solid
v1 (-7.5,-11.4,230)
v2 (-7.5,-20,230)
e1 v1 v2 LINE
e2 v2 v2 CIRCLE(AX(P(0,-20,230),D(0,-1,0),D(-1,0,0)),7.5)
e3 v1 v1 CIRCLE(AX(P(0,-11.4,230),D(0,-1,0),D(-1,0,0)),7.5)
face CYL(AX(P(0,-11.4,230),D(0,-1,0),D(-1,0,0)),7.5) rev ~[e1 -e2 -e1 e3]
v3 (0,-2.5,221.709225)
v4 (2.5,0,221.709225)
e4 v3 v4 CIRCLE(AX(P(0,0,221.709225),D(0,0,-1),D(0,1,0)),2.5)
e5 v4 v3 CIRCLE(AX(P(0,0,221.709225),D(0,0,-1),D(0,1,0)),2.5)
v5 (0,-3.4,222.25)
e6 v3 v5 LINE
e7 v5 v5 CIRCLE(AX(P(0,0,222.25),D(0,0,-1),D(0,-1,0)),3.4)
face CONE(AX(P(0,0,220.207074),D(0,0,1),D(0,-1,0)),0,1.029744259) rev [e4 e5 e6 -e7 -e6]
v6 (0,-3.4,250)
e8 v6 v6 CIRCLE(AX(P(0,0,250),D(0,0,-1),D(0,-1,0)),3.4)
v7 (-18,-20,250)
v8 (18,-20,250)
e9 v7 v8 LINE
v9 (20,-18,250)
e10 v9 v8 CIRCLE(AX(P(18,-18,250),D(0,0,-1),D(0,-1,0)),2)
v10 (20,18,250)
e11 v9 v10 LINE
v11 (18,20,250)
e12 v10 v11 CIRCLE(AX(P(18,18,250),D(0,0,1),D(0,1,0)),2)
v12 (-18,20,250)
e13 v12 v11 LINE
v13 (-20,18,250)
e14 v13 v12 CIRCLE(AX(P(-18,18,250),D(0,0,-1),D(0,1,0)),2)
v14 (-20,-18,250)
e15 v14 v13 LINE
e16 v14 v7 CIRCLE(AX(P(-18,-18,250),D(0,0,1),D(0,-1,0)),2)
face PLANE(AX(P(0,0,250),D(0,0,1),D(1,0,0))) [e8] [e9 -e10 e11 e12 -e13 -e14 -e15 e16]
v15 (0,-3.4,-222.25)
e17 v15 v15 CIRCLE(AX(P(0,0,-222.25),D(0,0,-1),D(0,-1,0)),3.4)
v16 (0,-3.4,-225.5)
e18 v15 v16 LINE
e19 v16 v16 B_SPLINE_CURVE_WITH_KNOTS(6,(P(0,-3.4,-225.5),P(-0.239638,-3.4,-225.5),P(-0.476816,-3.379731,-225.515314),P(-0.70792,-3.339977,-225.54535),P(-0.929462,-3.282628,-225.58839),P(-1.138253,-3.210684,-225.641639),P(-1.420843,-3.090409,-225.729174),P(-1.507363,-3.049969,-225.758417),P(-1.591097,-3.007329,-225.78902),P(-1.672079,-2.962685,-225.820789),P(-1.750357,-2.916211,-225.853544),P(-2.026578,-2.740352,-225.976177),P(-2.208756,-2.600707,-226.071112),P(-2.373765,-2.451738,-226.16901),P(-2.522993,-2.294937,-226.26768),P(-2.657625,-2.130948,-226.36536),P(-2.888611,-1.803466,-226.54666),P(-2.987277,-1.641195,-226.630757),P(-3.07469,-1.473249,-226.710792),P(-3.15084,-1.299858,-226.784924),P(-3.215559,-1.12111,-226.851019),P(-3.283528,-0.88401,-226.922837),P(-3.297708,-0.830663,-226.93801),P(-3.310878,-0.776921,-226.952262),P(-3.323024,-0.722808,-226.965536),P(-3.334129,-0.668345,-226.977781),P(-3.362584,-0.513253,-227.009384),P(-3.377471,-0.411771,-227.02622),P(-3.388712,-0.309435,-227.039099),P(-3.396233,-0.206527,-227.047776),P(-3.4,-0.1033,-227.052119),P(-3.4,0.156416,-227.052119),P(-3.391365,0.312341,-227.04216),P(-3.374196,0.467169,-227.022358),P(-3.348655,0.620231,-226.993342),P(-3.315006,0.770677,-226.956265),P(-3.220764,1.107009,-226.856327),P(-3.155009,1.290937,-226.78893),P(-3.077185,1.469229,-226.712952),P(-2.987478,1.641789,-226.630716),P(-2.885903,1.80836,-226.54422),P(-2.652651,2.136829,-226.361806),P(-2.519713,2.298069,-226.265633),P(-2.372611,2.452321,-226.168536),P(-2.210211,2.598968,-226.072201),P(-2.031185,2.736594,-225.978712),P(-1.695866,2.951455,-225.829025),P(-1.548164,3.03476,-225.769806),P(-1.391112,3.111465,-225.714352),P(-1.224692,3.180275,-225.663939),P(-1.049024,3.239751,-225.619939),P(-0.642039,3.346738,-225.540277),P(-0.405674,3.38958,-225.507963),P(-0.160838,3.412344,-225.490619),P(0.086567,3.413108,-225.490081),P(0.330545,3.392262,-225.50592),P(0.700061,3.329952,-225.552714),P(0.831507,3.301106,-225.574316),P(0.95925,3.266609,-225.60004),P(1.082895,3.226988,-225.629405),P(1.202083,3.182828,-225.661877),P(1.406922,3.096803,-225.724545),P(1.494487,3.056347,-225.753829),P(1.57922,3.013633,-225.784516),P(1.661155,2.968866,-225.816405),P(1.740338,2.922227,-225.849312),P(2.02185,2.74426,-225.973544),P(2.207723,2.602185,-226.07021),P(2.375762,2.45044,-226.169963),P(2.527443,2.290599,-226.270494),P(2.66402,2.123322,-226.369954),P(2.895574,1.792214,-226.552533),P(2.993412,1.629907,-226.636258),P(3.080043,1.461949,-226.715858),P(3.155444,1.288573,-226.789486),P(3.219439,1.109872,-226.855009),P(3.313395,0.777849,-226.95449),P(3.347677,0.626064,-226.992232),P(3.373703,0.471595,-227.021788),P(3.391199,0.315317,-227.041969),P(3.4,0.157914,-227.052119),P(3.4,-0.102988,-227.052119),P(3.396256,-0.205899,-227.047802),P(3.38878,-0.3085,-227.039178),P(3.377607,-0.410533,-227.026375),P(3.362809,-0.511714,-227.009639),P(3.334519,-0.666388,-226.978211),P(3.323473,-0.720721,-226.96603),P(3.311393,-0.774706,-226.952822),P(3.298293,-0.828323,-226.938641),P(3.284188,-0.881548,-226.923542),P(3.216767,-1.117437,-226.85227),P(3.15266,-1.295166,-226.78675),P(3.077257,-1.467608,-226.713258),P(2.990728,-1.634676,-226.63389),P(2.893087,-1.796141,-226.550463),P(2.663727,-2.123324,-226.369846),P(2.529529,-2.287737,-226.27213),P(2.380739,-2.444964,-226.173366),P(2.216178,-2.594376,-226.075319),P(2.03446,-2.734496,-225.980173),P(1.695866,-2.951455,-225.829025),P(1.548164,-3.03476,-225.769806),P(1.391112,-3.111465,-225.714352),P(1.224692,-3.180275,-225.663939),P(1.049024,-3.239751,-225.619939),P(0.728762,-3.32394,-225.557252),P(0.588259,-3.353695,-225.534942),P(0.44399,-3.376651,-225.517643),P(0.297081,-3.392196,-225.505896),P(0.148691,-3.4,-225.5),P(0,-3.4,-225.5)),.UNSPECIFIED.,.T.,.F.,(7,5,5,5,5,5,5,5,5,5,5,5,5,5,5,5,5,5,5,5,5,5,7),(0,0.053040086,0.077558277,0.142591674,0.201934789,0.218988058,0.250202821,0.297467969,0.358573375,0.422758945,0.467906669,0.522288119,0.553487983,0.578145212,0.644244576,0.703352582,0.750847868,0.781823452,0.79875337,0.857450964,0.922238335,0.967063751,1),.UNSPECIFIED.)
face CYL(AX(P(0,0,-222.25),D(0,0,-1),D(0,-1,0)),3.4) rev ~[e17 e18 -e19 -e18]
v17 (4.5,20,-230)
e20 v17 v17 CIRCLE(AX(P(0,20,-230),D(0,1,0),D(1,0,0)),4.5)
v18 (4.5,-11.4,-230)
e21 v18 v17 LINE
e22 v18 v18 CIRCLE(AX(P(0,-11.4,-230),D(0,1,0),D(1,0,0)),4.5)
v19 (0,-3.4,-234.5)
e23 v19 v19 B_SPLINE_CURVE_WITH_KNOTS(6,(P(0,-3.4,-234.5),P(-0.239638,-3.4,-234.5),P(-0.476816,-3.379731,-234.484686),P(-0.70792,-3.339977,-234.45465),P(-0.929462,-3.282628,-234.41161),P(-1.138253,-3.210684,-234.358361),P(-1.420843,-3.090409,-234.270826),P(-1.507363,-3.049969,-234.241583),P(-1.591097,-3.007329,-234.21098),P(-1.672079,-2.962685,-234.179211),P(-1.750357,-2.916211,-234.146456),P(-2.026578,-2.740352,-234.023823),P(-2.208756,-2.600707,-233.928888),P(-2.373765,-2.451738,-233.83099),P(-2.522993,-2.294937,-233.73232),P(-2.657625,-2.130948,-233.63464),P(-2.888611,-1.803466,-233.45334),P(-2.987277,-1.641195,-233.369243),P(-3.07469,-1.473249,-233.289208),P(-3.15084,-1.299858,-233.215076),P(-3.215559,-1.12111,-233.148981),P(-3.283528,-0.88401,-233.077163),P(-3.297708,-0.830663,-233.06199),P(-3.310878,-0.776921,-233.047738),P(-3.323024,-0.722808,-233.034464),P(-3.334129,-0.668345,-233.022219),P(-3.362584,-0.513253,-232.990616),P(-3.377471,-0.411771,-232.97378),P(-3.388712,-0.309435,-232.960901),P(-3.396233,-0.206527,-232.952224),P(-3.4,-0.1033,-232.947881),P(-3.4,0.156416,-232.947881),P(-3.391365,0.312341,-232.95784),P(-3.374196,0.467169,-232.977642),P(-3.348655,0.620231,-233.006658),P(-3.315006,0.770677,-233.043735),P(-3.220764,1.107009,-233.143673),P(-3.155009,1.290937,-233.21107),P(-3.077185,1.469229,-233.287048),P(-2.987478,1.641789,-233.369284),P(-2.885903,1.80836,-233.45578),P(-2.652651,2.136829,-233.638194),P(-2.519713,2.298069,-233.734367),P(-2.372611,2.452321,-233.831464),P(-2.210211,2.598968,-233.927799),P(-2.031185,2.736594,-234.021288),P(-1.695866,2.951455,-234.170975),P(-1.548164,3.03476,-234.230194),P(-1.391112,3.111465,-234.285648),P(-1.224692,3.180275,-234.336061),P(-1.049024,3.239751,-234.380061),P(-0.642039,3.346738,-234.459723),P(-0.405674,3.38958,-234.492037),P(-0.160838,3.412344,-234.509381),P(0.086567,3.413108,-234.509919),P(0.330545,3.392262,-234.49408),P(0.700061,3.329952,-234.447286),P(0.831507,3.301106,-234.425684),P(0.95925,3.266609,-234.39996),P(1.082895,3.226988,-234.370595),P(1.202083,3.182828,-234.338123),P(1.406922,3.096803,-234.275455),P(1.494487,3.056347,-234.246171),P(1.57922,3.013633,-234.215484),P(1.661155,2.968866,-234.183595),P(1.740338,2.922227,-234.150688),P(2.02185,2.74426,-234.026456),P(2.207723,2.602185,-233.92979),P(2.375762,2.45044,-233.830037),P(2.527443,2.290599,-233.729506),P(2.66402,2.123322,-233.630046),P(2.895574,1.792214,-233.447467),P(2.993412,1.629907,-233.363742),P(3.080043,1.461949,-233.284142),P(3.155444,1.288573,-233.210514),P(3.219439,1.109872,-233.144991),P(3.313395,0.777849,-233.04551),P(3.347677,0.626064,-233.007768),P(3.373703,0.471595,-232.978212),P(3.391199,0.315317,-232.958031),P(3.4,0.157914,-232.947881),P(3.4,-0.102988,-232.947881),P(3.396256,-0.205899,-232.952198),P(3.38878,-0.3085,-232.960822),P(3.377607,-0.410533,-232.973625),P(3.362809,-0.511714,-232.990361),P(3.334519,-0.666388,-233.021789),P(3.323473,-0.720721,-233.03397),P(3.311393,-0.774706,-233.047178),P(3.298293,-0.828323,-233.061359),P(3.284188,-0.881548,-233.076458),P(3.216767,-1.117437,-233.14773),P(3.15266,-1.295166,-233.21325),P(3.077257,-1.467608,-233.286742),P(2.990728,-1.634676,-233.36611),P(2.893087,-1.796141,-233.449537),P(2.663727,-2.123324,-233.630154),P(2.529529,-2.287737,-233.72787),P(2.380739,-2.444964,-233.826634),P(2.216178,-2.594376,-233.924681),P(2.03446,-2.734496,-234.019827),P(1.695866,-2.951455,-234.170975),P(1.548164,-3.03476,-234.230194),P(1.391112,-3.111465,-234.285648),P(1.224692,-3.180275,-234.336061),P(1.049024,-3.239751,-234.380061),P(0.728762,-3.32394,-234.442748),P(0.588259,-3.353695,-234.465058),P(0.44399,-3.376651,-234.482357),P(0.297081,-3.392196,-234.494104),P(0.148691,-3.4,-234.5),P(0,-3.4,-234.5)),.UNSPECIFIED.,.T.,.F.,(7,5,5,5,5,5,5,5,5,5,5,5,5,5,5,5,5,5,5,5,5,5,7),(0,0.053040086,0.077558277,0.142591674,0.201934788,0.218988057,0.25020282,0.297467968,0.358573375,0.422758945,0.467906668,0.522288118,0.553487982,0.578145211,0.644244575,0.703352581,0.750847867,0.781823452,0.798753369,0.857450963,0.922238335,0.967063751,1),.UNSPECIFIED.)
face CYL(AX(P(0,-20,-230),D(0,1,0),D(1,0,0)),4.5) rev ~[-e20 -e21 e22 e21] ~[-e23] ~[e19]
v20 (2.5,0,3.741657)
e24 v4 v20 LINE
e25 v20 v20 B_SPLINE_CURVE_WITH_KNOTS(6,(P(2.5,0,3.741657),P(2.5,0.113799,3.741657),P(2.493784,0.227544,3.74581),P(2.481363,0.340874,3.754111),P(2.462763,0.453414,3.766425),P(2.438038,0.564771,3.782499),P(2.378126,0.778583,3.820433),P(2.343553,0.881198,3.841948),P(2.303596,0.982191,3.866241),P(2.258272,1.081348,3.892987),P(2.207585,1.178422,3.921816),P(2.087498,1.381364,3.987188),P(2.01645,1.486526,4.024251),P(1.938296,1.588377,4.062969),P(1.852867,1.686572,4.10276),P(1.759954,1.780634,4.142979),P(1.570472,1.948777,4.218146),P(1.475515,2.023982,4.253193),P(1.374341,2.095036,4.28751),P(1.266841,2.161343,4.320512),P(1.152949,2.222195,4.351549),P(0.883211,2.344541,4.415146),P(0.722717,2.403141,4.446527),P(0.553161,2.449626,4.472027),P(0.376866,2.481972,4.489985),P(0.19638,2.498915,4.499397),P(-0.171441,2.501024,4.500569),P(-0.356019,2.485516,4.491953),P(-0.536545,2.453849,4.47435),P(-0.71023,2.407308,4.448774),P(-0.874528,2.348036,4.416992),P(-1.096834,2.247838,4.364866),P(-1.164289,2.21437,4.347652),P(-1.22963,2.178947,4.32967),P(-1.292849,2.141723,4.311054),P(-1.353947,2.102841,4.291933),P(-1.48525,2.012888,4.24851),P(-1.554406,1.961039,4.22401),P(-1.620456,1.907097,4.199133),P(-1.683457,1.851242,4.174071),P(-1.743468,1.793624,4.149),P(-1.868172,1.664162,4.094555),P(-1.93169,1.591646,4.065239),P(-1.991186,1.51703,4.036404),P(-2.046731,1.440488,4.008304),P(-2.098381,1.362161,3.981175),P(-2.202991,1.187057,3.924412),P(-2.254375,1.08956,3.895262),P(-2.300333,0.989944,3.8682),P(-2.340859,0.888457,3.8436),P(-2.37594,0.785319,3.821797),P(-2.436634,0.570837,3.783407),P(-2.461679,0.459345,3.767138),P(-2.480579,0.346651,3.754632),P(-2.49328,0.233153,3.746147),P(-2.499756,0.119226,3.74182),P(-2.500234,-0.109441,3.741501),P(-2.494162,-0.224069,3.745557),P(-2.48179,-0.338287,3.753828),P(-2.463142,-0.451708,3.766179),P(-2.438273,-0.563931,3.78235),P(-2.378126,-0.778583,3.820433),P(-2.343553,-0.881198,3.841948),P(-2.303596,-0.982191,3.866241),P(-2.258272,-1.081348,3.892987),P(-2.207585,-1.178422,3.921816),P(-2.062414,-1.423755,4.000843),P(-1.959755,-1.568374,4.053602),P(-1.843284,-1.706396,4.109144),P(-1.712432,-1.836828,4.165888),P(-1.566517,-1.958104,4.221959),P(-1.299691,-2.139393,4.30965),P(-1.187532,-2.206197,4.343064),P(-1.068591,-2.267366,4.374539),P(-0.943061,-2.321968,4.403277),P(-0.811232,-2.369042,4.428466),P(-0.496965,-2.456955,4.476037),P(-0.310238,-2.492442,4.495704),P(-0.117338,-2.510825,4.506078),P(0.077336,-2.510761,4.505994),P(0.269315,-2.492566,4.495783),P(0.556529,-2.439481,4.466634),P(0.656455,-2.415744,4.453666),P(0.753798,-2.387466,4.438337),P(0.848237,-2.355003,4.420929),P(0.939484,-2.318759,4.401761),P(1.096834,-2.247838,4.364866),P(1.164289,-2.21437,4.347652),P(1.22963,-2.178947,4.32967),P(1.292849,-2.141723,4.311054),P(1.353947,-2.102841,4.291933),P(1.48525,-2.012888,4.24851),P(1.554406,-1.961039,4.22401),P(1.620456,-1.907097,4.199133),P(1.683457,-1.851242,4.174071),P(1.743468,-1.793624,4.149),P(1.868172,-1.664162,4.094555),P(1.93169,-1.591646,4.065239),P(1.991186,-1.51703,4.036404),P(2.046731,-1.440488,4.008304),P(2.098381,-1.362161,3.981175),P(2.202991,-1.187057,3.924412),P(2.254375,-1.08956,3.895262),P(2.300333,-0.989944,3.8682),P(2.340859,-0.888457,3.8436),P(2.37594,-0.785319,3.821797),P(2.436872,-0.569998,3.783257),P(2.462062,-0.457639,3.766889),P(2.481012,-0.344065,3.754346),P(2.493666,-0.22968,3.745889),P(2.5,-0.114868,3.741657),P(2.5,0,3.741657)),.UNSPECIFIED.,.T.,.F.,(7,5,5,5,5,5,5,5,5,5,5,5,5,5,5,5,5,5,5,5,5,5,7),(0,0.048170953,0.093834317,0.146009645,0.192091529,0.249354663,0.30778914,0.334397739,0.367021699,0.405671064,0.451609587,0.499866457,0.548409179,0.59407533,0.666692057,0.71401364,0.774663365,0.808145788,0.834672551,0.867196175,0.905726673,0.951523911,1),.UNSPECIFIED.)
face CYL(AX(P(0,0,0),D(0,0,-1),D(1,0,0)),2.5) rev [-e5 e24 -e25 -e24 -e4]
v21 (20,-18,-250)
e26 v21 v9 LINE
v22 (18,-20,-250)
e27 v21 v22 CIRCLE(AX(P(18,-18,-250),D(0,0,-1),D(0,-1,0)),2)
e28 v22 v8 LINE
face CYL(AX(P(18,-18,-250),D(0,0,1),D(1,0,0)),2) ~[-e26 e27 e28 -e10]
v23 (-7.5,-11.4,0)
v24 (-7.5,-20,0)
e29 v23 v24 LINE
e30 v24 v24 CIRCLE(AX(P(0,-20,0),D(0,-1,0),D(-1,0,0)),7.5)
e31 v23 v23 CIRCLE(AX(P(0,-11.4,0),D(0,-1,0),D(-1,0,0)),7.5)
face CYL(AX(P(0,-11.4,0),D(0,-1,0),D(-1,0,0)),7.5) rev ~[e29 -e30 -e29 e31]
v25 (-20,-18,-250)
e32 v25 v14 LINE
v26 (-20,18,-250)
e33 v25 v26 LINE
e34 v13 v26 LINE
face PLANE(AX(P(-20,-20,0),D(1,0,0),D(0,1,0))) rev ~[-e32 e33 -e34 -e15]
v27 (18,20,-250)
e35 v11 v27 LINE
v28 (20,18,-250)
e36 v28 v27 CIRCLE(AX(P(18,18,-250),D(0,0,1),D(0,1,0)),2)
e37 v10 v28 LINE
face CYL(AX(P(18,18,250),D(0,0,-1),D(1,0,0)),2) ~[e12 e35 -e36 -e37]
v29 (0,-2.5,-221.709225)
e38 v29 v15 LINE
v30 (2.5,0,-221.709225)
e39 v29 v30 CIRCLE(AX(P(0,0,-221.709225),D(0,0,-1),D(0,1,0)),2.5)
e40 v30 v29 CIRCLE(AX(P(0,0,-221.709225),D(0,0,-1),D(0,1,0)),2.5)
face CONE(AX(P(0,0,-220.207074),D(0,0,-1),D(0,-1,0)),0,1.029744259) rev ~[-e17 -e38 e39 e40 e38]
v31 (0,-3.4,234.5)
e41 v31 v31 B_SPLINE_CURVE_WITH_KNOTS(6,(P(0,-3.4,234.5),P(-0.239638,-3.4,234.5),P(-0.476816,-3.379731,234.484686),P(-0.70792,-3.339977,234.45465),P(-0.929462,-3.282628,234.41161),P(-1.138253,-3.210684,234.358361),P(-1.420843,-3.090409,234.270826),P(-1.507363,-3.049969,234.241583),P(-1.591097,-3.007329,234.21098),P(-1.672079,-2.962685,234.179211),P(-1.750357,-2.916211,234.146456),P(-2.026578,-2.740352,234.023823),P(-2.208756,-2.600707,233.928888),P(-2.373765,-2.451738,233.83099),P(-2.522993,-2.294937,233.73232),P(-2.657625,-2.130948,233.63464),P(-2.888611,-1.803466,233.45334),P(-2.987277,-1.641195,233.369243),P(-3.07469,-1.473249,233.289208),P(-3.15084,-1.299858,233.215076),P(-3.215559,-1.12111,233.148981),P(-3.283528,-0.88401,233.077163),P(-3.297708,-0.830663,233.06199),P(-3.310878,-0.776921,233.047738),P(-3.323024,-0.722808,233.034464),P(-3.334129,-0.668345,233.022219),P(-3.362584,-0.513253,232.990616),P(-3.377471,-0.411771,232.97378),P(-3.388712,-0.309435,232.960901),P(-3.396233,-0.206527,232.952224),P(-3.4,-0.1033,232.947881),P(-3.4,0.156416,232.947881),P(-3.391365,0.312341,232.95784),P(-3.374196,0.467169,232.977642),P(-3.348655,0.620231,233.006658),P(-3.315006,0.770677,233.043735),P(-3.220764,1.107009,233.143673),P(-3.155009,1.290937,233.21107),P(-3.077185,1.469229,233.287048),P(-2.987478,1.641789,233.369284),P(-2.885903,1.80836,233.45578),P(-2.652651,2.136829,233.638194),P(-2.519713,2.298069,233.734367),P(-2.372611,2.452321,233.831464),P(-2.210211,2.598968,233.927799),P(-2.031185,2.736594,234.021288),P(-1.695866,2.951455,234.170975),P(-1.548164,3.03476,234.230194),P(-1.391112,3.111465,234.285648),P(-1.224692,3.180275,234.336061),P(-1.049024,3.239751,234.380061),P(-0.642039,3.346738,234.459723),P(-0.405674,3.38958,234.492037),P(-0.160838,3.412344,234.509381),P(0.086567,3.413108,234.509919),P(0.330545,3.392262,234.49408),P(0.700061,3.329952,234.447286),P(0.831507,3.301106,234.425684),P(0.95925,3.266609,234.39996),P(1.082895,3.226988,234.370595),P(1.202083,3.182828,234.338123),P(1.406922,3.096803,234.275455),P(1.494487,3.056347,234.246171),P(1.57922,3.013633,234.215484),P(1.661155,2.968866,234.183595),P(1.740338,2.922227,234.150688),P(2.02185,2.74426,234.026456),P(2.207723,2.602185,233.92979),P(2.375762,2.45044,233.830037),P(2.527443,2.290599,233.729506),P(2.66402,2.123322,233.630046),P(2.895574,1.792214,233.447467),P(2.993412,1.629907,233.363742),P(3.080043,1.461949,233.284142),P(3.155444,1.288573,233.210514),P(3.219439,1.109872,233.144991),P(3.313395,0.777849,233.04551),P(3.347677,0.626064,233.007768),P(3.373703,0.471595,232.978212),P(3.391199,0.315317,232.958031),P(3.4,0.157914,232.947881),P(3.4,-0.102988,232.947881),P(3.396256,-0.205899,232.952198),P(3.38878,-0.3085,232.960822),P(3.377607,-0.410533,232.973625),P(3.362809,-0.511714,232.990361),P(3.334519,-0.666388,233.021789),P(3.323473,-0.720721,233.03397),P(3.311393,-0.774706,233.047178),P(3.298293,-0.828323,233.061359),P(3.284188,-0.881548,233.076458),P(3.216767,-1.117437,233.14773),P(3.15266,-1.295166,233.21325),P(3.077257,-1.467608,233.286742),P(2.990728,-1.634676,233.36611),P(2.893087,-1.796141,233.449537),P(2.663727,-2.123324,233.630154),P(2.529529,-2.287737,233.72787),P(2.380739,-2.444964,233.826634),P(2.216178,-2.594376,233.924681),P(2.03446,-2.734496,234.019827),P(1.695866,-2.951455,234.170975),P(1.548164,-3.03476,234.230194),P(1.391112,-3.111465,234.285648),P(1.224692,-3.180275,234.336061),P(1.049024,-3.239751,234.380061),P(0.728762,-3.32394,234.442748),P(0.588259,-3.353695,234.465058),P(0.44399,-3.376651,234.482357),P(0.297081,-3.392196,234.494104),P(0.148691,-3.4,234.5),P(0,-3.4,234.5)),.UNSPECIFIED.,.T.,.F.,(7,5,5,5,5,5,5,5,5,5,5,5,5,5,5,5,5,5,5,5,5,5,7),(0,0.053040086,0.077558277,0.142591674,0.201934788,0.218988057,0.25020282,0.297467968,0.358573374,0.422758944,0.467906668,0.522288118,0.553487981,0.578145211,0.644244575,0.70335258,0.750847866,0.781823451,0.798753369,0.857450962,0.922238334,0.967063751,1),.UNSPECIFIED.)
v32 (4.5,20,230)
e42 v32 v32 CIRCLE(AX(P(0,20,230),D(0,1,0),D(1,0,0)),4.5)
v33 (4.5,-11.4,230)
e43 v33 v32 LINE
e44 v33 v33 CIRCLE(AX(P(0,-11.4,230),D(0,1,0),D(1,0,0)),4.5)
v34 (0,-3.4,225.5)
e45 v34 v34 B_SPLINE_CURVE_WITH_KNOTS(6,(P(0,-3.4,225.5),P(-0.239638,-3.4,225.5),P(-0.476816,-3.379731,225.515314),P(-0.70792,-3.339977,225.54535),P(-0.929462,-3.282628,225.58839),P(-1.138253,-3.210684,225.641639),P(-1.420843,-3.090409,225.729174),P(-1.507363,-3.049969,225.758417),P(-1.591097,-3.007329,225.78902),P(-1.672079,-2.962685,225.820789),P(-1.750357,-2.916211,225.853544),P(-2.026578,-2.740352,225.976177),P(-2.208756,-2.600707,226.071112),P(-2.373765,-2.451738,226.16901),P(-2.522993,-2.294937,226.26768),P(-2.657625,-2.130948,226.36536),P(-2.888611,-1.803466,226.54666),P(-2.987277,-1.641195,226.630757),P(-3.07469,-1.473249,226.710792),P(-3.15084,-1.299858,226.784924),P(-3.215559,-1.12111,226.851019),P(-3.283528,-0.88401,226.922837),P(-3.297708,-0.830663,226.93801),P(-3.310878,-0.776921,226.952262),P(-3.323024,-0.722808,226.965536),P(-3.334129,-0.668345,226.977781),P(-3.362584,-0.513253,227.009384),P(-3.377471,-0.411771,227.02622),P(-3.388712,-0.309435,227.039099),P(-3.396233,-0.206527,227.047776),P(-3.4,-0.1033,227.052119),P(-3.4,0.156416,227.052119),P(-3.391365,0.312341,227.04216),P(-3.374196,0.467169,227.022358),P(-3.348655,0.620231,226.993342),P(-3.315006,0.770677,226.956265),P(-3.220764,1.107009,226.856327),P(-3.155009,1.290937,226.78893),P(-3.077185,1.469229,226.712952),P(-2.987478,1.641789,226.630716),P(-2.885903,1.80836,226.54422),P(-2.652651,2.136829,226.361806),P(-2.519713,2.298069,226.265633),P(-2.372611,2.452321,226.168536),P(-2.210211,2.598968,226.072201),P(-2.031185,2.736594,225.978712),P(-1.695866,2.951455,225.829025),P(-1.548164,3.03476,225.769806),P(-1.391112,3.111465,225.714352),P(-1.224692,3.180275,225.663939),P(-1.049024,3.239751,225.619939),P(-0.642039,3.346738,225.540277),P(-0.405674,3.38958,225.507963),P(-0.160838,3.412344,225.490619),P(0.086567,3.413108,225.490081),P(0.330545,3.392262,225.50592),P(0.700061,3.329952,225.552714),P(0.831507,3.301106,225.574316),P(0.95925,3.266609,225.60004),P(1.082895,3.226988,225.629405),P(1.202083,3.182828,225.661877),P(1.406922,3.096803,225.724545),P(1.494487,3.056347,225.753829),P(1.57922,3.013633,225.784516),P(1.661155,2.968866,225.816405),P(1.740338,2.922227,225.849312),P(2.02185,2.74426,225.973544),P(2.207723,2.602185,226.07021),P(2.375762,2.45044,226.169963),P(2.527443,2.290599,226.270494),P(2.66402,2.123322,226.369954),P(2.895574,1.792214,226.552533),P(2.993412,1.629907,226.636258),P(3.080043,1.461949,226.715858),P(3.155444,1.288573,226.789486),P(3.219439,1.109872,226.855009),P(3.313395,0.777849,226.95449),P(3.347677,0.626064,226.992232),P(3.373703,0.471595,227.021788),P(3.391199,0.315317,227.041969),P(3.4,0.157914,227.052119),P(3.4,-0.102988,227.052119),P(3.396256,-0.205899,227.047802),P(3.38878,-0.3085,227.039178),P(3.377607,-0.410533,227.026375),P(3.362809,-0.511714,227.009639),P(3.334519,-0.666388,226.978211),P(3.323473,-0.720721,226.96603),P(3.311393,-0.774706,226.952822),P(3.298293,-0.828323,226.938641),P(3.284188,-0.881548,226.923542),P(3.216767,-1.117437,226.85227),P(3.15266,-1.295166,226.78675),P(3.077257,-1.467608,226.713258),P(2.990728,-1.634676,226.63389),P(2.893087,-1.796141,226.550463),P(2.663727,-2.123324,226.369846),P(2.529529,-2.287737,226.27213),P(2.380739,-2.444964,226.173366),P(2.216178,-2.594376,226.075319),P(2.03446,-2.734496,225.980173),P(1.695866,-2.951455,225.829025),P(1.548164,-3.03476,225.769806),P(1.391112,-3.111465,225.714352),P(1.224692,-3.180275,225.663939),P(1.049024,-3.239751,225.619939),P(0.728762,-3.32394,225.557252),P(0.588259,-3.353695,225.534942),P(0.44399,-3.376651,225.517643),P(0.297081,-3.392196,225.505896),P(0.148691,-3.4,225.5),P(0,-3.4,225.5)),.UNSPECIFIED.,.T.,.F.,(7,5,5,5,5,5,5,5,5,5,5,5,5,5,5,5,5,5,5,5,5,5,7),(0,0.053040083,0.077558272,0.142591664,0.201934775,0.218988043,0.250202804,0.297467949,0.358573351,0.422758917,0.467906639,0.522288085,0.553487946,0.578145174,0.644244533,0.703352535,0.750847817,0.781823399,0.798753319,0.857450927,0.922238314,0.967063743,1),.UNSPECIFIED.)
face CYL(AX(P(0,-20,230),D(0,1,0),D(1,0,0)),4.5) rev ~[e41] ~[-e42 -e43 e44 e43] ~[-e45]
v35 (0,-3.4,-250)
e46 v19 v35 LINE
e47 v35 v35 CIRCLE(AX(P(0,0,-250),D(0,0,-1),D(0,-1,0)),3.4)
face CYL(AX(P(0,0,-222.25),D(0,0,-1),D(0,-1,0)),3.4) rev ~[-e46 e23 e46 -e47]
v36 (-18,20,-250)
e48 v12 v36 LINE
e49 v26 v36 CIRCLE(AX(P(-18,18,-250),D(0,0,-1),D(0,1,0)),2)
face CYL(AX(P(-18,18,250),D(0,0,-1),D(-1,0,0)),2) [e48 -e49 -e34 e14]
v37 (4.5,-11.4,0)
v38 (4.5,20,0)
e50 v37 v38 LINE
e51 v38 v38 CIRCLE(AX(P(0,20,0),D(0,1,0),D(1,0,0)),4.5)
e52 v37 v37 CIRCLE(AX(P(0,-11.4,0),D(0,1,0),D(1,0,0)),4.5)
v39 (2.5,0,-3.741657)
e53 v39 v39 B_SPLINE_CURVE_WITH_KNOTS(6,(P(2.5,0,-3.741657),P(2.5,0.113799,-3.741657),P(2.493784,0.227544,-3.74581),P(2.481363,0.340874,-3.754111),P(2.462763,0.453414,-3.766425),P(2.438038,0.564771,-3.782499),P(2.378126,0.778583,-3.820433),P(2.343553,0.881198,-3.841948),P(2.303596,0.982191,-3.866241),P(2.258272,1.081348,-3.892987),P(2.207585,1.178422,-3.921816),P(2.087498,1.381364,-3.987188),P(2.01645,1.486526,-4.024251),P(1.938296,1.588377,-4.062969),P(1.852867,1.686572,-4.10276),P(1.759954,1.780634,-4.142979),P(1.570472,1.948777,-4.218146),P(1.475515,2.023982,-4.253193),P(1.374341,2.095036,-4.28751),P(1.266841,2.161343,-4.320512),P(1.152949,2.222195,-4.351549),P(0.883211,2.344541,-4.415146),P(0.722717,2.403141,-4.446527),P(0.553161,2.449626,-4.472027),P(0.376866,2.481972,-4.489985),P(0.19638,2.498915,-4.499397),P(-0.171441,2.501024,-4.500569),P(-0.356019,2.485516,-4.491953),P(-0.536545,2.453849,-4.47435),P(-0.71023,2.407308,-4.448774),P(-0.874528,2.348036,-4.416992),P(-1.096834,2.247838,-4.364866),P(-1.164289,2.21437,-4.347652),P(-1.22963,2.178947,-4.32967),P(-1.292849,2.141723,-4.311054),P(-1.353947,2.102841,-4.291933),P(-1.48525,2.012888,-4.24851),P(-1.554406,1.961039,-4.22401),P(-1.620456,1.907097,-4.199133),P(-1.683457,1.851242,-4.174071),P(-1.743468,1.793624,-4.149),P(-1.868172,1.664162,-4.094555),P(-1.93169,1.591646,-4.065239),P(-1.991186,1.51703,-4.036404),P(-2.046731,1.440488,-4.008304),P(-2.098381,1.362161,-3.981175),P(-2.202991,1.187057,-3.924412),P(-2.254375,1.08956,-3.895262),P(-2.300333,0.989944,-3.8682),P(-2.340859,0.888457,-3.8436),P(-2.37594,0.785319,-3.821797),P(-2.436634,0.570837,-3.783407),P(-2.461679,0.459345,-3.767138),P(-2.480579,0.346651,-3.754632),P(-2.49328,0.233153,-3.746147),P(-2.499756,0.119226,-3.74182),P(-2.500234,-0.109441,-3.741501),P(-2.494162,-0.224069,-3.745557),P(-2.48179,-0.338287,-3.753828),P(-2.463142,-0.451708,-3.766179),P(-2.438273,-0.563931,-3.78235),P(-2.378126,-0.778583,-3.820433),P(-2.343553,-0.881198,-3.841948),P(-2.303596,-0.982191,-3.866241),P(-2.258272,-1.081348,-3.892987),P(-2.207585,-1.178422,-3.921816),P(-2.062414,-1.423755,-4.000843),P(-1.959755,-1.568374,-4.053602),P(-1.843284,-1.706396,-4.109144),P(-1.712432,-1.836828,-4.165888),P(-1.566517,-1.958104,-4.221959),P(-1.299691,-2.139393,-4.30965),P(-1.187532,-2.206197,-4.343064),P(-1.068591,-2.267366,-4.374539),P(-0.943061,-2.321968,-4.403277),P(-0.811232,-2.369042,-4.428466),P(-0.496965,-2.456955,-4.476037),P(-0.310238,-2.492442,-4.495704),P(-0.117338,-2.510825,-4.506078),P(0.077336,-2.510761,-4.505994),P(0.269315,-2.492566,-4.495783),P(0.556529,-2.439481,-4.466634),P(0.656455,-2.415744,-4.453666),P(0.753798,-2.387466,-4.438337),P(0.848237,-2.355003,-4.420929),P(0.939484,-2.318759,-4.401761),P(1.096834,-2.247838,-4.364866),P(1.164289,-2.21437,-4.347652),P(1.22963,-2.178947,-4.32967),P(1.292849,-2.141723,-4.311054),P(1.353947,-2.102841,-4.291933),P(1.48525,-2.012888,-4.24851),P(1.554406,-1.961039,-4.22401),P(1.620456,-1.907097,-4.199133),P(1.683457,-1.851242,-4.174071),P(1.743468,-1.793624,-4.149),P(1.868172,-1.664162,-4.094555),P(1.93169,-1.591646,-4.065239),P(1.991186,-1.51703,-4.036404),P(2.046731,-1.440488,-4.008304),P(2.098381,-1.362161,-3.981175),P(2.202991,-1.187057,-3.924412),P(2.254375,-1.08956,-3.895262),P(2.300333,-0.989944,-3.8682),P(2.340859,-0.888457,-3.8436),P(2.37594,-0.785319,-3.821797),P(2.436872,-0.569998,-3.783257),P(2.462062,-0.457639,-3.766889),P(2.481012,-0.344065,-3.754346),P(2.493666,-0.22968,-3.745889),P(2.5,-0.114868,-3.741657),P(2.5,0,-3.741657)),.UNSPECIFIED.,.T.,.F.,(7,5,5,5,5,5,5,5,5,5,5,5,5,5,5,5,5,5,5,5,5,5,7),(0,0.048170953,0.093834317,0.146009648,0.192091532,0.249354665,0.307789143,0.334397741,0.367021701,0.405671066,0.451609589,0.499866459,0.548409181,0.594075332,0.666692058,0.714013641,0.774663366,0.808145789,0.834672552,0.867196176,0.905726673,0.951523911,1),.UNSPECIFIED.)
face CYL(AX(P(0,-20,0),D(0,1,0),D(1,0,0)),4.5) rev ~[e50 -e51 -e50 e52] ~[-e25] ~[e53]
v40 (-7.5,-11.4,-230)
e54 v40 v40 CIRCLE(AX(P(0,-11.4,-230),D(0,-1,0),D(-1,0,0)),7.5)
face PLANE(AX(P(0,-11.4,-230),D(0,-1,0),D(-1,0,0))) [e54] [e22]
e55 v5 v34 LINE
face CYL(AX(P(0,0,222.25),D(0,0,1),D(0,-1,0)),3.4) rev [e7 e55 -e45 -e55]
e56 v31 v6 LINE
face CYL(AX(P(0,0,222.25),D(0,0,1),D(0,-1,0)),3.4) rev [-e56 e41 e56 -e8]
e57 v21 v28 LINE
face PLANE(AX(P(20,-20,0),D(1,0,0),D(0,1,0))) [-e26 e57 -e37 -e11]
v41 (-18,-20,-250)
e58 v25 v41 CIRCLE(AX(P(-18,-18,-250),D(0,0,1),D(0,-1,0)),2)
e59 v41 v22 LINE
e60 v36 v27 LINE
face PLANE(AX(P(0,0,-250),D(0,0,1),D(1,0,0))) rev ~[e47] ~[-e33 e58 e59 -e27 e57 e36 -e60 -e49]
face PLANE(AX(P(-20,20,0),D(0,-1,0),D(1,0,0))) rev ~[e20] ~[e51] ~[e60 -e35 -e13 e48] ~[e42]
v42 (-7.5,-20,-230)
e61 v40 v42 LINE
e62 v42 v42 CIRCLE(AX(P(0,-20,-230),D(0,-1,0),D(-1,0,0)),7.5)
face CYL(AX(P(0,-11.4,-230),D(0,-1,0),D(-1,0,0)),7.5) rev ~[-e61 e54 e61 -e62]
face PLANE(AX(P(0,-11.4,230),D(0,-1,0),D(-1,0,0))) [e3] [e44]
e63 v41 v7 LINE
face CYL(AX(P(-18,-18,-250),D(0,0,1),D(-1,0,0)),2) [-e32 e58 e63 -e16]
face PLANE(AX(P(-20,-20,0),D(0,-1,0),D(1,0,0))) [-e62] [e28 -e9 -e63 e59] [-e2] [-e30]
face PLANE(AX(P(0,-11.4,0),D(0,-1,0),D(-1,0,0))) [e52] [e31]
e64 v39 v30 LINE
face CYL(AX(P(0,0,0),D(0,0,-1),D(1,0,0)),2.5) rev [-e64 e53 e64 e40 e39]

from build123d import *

# Parameters (mm, degrees)
SKETCH1_W                                           = 40
SKETCH1_H                                           = 40
SKETCH1_R                                           = 2.5
BOSS_EXTRUDE1_DEPTH                                 = 250
FILLET1_R                                           = 2
CBORE_FOR_M8_HEX_SOCKET_HEAD_CAP_SCREW1_D           = 9
CBORE_FOR_M8_HEX_SOCKET_HEAD_CAP_SCREW1_CBORE_D     = 15
CBORE_FOR_M8_HEX_SOCKET_HEAD_CAP_SCREW1_CBORE_DEPTH = 8.6


with BuildPart() as part:
    # Sketch1 → Boss-Extrude1 (new, symmetric)
    with BuildSketch(Plane.XY):
        Rectangle(SKETCH1_W, SKETCH1_H)
        Circle(SKETCH1_R, mode=Mode.SUBTRACT)
    extrude(amount=BOSS_EXTRUDE1_DEPTH, both=True)

    # Fillet1
    fillet1_edges = [part.edges().sort_by_distance(p)[0] for p in [
        (20, -20, 0),
        (-20, -20, 0),
        (-20, 20, 0),
        (20, 20, 0),
    ]]
    fillet(fillet1_edges, radius=FILLET1_R)

    # CBORE for M8 Hex Socket Head Cap Screw1 (through all)
    with Locations(Plane(origin=(0, -20, 0), x_dir=(-1, 0, 0), z_dir=(0, -1, 0))):
        with Locations((0, 500), (0, 0), (0, -500), (0, 230), (0, -230)):
            CounterBoreHole(CBORE_FOR_M8_HEX_SOCKET_HEAD_CAP_SCREW1_D / 2, CBORE_FOR_M8_HEX_SOCKET_HEAD_CAP_SCREW1_CBORE_D / 2, CBORE_FOR_M8_HEX_SOCKET_HEAD_CAP_SCREW1_CBORE_DEPTH)

    # Sketch9 → M8x1.25 Tapped Hole1 (revolve, cut)
    with BuildSketch(Plane(origin=(0, 0, 250), x_dir=(0, -1, 0), z_dir=(1, 0, 0))):
        Polygon((0, 0), (0, 29.792926105), (3.4, 27.75), (3.4, 0), align=None)
    m8x1_25_tapped_hole1 = revolve(axis=Axis((0, 0, 256.35), (0, 0, -1)), mode=Mode.SUBTRACT)

    # Mirror1: M8x1.25 Tapped Hole1 across plane
    add(m8x1_25_tapped_hole1.mirror(Plane.XY), mode=Mode.SUBTRACT)


solid = part.part
